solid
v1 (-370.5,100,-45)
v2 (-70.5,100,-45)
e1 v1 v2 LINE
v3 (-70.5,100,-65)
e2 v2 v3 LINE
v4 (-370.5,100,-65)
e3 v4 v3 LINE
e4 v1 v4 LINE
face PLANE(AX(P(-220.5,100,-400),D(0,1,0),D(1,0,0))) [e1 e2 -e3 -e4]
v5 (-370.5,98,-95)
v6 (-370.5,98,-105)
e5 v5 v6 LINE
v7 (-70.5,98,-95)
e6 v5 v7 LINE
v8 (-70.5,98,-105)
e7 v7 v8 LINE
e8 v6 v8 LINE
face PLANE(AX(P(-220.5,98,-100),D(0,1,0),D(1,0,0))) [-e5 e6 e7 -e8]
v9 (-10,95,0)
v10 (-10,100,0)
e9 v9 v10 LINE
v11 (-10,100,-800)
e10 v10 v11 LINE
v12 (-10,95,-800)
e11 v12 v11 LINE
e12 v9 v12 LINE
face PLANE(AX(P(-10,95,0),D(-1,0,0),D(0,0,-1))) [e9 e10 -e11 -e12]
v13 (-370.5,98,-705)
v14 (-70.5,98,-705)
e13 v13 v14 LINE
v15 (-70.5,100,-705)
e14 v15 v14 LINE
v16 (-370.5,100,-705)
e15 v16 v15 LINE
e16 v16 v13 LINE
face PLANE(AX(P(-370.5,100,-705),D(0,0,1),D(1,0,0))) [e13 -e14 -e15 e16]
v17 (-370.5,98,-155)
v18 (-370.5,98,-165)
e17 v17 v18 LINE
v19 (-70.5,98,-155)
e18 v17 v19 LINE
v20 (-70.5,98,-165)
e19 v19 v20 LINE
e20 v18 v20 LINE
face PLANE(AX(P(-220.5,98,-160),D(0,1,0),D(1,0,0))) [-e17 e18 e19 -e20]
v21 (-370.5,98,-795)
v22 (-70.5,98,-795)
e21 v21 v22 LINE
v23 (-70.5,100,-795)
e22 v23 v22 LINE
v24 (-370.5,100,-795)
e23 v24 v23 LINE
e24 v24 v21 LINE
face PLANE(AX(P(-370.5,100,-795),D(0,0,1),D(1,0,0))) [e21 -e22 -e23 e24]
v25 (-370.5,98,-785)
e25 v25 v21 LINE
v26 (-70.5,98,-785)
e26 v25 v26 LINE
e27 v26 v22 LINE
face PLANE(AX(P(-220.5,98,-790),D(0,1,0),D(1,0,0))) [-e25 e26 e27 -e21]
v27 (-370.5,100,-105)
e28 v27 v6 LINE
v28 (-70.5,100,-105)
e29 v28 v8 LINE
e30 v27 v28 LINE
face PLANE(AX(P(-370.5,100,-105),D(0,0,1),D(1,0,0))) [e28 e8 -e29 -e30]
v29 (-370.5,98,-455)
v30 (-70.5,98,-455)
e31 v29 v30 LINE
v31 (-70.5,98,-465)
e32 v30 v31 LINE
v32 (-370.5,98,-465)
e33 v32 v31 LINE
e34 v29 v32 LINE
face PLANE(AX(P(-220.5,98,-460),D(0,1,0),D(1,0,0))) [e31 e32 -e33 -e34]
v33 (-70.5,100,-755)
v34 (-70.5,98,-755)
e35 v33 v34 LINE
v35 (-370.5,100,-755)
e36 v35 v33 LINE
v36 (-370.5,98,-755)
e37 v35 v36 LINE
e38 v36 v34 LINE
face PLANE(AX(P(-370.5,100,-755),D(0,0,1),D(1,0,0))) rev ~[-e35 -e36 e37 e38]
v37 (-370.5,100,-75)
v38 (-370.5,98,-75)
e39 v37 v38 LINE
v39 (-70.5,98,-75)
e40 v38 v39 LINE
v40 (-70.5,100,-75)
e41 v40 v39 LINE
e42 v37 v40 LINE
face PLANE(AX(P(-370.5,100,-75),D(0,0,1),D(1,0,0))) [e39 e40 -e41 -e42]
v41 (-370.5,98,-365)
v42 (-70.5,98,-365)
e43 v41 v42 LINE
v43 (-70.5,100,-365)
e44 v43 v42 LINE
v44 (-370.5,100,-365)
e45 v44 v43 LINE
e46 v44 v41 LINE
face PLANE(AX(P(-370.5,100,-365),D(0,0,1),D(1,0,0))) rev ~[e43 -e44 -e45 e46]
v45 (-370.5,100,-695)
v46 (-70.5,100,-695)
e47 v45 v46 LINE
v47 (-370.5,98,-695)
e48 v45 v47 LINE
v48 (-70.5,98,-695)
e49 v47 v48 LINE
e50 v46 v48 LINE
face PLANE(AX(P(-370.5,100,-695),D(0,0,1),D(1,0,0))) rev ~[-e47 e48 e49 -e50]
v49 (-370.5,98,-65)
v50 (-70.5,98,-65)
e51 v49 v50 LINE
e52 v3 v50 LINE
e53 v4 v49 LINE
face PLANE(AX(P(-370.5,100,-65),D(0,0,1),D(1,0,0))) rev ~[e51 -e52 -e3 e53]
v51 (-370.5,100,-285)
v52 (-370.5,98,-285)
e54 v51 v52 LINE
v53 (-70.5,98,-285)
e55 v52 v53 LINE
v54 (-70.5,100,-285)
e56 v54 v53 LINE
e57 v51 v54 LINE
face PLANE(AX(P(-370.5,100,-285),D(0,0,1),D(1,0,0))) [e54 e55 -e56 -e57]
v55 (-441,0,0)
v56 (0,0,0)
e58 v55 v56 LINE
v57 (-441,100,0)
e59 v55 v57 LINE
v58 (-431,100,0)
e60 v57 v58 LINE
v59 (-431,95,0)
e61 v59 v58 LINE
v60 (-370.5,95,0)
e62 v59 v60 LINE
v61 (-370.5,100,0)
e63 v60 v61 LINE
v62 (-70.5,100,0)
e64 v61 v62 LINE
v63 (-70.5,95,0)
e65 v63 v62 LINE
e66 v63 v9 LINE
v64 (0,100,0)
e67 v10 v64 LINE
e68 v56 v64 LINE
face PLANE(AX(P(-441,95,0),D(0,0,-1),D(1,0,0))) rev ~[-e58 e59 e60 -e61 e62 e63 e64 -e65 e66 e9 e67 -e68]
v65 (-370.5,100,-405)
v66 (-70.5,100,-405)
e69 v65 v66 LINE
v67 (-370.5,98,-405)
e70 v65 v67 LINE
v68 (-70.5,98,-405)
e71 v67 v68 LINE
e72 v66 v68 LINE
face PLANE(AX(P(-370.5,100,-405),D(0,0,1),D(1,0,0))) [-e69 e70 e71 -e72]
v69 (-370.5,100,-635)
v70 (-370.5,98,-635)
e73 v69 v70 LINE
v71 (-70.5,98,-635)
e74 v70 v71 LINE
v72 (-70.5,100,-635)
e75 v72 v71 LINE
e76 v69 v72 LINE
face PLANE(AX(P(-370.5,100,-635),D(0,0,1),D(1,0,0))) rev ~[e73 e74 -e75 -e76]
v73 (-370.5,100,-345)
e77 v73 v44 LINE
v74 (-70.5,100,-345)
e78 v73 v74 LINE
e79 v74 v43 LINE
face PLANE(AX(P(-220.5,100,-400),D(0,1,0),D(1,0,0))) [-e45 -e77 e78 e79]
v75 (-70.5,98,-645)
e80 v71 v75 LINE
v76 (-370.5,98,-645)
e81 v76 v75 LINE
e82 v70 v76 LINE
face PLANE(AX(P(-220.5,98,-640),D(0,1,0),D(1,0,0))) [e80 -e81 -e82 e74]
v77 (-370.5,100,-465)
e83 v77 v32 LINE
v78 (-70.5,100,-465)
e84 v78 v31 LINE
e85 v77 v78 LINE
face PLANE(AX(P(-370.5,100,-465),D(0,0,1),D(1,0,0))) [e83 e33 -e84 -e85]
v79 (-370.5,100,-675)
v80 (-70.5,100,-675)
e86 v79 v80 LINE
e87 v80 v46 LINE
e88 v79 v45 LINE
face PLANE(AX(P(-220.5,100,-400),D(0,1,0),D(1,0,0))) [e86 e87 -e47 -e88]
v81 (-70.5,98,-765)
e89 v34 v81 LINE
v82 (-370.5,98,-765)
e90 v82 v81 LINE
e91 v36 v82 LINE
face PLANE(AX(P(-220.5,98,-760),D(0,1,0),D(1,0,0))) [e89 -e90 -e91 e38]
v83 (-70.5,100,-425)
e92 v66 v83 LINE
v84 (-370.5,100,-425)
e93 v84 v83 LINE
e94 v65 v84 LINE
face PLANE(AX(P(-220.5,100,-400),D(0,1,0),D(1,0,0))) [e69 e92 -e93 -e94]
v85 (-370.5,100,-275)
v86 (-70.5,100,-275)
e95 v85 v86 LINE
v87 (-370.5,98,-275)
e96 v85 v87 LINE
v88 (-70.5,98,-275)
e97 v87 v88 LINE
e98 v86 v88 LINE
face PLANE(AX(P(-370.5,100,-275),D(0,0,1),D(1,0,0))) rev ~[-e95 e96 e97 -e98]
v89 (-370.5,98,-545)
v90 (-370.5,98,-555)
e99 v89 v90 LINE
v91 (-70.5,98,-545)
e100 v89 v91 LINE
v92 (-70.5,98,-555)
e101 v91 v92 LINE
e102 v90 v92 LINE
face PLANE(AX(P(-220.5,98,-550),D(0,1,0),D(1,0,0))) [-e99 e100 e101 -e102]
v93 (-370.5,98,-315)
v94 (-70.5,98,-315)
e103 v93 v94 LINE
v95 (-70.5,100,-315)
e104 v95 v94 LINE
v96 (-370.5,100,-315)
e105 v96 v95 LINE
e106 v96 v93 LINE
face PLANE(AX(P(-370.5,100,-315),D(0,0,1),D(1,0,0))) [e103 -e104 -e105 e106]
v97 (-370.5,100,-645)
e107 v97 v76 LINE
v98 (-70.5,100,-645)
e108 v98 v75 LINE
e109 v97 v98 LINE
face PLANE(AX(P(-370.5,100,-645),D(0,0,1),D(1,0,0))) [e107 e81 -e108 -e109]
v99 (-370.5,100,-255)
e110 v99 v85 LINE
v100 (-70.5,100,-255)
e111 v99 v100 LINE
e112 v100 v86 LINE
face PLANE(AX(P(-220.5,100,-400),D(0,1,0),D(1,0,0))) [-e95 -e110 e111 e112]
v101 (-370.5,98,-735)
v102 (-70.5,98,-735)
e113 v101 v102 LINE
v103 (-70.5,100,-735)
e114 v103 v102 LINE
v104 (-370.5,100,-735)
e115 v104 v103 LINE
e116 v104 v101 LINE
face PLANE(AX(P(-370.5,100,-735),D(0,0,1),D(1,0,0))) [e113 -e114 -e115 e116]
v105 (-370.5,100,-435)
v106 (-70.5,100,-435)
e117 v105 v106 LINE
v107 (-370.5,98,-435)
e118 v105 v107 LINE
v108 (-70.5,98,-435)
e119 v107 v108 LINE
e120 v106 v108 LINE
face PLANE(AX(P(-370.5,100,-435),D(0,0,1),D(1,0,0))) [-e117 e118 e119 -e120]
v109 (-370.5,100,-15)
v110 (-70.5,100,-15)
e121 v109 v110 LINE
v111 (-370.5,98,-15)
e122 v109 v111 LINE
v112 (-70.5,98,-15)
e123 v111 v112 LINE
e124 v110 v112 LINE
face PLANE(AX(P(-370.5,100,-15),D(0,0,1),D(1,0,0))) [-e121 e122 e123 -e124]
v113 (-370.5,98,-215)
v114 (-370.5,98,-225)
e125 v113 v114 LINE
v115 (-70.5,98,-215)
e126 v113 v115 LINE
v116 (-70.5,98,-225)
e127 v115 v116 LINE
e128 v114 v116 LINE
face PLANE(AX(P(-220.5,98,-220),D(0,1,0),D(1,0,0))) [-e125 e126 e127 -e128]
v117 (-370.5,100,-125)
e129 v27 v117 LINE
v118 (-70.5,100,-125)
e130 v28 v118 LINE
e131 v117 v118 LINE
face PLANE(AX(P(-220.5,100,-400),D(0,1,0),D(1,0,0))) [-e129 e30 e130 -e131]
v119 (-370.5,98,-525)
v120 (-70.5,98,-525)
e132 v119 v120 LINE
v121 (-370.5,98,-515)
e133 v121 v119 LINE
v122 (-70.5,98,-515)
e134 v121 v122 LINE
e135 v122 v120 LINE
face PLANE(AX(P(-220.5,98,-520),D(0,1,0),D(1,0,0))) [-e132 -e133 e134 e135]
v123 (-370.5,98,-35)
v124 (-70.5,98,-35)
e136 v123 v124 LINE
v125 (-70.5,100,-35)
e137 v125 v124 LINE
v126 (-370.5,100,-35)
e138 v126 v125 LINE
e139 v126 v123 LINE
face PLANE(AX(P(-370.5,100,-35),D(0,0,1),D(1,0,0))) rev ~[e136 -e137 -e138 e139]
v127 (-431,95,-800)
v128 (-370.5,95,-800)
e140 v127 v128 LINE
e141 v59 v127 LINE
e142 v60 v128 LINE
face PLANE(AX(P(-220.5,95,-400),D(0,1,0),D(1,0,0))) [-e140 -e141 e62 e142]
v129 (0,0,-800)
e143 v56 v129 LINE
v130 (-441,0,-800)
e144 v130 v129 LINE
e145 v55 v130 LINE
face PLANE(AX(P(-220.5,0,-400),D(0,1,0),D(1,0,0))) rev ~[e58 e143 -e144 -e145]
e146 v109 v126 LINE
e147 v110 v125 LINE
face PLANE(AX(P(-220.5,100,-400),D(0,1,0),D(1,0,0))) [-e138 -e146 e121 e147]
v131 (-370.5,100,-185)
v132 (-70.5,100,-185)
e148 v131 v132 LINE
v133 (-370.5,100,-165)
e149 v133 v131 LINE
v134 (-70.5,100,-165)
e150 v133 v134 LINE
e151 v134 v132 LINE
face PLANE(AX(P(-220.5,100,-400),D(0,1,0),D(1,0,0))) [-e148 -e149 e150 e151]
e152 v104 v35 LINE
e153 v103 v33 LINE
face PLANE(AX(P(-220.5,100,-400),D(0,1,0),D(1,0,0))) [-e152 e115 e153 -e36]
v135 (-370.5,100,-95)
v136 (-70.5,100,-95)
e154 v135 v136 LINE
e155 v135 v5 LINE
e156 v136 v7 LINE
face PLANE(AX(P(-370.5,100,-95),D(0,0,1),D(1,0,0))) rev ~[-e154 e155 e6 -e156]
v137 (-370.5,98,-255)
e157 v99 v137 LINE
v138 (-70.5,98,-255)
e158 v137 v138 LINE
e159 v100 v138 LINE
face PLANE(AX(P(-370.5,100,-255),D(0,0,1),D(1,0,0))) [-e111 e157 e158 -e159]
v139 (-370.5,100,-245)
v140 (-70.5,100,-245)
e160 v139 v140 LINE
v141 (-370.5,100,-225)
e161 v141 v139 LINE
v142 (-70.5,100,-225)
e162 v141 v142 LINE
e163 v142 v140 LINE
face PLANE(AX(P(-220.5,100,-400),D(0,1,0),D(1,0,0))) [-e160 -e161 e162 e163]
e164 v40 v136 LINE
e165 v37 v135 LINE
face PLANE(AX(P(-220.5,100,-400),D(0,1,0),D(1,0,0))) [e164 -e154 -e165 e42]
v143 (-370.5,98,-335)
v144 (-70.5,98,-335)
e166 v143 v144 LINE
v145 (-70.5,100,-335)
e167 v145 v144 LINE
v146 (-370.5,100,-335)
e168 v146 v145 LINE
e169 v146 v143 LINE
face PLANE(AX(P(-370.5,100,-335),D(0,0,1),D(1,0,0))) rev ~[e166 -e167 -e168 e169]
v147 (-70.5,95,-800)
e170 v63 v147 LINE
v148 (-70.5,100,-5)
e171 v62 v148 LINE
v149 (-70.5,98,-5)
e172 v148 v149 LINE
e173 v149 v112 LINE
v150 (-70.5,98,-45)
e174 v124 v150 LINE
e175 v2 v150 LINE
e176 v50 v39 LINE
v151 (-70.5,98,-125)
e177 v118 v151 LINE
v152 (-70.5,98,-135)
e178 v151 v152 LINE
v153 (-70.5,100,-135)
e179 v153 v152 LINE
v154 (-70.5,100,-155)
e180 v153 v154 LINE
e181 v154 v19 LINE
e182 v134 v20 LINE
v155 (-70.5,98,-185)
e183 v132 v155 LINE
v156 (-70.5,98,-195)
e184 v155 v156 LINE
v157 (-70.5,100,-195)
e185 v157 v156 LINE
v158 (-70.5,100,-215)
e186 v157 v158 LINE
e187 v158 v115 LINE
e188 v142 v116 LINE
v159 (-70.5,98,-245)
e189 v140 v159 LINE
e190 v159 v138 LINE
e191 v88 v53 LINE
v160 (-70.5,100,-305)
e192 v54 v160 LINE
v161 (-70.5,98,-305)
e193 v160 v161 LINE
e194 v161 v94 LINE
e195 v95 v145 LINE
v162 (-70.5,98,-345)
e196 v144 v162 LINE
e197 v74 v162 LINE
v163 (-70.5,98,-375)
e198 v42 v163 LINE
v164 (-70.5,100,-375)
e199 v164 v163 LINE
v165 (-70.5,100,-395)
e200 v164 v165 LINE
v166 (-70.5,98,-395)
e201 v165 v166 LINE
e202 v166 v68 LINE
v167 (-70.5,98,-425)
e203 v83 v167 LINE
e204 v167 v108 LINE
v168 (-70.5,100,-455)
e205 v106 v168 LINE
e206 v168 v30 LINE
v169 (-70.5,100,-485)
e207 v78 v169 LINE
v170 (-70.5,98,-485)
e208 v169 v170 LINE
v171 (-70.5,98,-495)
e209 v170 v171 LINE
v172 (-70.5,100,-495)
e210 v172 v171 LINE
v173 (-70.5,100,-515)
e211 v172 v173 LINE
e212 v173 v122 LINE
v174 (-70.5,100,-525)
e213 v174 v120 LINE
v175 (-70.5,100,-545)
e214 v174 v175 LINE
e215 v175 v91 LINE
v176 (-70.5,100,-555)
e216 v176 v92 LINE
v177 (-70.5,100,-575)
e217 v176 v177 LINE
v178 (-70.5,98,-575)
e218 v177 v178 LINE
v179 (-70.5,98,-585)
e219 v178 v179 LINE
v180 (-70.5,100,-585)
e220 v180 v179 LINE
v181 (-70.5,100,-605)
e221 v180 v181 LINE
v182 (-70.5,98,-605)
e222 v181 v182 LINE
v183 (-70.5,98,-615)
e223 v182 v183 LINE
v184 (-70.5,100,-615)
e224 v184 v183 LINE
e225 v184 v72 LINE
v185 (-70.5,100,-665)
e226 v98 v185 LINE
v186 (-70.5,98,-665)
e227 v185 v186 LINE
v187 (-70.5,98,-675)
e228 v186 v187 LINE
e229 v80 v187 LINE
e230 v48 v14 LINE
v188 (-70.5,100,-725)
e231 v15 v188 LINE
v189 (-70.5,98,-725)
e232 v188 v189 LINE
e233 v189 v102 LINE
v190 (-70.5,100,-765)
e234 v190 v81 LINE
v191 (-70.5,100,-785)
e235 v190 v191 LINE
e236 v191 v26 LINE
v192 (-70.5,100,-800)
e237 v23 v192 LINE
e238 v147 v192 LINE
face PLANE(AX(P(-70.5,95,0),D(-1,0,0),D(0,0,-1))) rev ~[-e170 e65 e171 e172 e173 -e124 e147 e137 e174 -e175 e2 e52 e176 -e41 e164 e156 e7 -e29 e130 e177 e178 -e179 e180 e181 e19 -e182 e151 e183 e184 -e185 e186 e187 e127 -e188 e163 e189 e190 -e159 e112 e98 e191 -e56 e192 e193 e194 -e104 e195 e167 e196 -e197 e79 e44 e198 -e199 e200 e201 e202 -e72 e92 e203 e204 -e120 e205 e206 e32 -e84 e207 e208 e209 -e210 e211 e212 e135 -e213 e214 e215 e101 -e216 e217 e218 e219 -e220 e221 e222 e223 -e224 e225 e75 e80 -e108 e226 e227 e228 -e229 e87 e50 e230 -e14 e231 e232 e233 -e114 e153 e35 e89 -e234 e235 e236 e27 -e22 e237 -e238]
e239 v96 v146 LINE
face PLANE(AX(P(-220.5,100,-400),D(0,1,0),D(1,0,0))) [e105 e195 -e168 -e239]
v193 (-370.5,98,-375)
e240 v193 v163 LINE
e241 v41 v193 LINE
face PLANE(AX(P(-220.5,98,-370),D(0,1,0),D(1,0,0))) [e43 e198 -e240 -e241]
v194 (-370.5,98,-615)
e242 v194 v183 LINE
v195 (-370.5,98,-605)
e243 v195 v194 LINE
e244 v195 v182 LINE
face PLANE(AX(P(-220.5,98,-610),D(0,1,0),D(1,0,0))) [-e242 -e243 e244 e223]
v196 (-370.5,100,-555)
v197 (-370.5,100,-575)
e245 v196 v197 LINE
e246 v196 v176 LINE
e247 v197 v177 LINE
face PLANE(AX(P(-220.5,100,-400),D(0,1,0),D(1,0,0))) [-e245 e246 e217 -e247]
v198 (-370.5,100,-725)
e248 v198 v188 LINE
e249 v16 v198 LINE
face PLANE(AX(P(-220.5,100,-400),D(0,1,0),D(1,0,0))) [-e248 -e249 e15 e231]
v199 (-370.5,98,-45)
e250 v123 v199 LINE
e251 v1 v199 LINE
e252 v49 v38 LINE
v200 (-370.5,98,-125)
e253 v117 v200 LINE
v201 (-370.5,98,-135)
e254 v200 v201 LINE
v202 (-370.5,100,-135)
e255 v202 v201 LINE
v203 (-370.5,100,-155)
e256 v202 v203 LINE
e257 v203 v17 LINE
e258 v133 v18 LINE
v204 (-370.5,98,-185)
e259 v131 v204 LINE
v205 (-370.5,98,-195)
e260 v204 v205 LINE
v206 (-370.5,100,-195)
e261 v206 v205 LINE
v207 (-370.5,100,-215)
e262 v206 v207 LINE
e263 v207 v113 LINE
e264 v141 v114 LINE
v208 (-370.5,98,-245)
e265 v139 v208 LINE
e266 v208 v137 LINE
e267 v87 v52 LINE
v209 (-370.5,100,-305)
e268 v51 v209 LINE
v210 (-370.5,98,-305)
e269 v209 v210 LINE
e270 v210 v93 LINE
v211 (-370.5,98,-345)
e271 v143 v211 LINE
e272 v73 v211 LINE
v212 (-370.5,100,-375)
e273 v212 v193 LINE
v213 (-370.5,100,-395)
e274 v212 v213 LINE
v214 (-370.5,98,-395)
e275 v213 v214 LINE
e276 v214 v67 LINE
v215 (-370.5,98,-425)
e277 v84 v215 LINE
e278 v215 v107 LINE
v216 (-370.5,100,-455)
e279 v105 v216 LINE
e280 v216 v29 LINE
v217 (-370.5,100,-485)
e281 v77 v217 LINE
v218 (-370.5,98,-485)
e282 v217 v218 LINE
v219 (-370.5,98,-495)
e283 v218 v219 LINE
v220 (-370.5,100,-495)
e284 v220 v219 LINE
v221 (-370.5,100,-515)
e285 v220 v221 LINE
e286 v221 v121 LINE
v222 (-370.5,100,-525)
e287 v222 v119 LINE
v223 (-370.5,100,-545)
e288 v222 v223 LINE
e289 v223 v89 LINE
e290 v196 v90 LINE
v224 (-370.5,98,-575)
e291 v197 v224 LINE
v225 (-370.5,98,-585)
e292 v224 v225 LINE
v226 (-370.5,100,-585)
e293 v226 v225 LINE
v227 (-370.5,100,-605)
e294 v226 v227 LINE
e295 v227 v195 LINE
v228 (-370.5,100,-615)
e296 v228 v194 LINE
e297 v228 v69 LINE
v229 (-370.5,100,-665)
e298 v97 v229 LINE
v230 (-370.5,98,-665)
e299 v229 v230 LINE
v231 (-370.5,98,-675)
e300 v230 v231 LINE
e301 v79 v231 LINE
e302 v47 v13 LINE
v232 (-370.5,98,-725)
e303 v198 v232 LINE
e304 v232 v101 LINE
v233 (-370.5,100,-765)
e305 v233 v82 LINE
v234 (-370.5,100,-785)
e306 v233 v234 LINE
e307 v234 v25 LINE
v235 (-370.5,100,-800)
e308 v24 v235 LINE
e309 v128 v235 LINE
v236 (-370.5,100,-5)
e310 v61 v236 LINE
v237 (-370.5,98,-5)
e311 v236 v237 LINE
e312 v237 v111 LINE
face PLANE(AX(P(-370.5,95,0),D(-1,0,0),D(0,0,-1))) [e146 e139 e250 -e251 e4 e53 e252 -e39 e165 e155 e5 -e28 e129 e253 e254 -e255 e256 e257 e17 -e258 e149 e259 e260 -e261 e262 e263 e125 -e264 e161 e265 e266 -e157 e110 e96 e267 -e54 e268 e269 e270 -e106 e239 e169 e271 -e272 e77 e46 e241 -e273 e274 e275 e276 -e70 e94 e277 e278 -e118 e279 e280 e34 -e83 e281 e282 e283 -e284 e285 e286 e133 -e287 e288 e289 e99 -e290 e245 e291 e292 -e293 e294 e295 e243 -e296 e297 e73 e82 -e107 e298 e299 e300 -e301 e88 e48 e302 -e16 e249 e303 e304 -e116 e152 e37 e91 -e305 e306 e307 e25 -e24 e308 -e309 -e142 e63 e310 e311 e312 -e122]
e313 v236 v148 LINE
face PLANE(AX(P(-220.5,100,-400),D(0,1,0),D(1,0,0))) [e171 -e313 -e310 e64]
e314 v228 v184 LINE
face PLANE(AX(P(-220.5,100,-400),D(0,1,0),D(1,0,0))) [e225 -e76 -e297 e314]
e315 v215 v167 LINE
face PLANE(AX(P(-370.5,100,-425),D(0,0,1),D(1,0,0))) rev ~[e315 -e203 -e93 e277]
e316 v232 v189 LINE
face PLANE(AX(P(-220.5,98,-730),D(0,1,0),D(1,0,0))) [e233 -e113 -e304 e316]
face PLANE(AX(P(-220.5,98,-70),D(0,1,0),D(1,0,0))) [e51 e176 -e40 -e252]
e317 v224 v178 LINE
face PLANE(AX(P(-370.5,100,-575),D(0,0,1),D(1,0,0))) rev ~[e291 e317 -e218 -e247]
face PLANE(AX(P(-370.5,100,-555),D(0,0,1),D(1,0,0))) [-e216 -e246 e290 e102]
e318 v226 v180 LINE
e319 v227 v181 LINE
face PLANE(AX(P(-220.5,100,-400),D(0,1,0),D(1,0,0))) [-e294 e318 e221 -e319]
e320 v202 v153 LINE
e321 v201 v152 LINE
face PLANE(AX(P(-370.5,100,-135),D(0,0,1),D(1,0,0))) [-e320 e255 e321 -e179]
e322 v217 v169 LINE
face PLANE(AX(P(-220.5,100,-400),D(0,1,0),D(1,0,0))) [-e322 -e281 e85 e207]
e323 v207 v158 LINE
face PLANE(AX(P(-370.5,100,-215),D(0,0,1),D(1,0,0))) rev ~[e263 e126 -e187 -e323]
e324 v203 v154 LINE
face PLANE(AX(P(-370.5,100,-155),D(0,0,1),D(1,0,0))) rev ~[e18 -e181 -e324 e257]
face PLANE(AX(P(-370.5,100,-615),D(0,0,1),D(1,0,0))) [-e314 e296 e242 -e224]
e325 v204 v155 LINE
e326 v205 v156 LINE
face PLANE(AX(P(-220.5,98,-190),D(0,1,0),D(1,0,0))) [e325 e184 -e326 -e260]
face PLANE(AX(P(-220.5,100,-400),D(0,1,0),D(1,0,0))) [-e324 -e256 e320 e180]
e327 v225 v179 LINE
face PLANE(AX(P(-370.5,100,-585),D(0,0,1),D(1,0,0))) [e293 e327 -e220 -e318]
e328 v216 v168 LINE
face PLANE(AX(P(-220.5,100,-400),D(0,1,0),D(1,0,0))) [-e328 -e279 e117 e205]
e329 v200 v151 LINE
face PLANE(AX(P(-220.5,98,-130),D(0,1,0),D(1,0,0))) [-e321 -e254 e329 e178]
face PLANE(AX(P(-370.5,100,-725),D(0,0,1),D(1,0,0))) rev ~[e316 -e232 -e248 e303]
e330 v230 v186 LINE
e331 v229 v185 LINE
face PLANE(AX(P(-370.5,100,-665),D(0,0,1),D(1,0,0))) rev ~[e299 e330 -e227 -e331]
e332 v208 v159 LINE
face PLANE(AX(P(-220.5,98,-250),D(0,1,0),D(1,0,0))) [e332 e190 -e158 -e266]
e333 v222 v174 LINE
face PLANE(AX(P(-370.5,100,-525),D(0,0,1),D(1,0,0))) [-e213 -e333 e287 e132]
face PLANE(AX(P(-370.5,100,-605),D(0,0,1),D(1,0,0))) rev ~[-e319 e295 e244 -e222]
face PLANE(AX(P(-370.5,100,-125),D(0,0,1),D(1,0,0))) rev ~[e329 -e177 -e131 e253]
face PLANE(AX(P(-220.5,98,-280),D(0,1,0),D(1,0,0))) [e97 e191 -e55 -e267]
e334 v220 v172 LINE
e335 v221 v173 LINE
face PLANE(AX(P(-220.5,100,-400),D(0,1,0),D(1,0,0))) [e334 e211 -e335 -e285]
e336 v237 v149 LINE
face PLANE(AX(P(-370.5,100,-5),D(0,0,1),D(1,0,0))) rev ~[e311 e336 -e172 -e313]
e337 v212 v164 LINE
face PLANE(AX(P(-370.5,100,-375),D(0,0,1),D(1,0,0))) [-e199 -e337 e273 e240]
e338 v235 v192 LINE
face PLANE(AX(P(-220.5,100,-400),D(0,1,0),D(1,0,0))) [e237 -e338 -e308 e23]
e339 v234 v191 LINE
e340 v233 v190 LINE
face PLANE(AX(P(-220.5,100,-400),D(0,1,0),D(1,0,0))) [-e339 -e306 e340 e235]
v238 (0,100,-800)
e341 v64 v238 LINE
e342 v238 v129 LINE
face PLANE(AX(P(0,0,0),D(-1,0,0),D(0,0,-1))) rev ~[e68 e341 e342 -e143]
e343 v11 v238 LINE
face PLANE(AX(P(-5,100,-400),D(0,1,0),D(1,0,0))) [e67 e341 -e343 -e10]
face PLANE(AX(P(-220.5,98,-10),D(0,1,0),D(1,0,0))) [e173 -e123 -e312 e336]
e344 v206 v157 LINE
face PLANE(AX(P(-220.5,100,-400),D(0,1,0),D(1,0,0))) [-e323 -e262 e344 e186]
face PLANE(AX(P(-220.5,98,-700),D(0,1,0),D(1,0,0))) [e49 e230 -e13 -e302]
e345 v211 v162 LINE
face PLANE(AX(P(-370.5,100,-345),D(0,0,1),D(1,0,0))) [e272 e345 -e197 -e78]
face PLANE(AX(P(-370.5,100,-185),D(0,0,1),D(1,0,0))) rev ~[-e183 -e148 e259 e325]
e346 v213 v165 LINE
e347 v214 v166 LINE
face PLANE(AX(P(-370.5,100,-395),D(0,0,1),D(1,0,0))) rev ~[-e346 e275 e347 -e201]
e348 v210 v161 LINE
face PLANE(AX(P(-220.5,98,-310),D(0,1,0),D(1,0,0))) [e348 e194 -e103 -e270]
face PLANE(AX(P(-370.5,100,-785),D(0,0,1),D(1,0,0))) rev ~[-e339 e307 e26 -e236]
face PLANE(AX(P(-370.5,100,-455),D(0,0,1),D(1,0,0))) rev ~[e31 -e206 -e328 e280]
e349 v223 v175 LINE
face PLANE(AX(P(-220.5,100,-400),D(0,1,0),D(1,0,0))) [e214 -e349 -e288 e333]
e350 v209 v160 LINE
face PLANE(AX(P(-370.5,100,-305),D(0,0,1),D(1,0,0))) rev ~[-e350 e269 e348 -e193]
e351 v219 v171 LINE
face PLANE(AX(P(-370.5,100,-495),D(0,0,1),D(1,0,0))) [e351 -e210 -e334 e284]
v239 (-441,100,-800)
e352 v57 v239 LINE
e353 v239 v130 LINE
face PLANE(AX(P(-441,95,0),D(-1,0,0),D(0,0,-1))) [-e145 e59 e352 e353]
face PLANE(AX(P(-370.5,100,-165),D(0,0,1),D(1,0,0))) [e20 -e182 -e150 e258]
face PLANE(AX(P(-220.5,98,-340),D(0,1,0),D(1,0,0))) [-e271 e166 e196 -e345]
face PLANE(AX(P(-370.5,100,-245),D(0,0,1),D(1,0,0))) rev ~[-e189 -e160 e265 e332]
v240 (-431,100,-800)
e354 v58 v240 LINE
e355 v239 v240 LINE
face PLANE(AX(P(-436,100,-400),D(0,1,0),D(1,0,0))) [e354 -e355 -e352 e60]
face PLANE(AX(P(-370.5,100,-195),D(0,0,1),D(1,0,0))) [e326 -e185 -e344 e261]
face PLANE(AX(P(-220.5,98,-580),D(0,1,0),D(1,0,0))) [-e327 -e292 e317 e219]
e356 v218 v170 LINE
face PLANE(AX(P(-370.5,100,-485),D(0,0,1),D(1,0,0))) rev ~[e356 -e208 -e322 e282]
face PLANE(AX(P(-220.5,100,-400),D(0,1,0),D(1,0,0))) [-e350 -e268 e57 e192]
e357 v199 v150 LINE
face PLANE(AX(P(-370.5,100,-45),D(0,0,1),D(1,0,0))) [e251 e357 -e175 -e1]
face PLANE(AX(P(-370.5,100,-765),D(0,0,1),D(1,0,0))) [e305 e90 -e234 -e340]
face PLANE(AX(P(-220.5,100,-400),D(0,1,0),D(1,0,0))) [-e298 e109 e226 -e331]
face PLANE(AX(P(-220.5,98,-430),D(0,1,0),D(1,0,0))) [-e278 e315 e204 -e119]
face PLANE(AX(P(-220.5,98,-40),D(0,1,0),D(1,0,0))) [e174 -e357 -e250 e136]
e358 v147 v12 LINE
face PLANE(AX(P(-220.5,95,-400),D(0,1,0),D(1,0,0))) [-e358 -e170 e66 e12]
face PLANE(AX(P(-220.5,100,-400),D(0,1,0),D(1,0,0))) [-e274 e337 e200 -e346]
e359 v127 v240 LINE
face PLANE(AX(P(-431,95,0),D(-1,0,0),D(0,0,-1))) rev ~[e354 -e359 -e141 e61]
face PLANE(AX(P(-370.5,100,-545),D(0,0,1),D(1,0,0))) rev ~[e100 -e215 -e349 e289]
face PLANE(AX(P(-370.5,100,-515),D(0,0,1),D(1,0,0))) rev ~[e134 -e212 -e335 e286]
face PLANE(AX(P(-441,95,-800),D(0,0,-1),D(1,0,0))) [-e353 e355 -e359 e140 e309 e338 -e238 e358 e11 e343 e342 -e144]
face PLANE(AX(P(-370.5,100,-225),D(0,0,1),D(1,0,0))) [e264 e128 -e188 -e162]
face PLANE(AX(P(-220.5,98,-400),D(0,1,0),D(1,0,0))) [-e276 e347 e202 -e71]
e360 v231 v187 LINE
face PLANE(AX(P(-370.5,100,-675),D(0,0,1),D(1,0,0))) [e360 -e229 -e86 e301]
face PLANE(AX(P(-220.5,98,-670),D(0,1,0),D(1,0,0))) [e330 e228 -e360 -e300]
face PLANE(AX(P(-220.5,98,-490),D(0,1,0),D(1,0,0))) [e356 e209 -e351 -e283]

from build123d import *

# Parameters (mm, degrees)
SKETCH_1_W          = 441
SKETCH_1_H          = 800
EXTRUDE_1_DEPTH     = 95
SKETCH_3_W          = 10
SKETCH_3_H          = 800
SKETCH_3_W_2        = 300
EXTRUDE_2_DEPTH     = 5
SKETCH_4_W          = 300
SKETCH_4_H          = 10
CUT_EXTRUDE_1_DEPTH = 2


with BuildPart() as part:
    # 草图1 → 凸台-拉伸1 (new body)
    with BuildSketch(Plane(origin=(0, 0, 0), x_dir=(1, 0, 0), z_dir=(0, 1, 0))):
        with Locations((-220.5, 400)):
            Rectangle(SKETCH_1_W, SKETCH_1_H)
    extrude(amount=EXTRUDE_1_DEPTH)

    # 草图3 → 凸台-拉伸2 (add)
    with BuildSketch(Plane(origin=(0, 95, 0), x_dir=(1, 0, 0), z_dir=(0, 1, 0))):
        with Locations((-436, 400)):
            Rectangle(SKETCH_3_W, SKETCH_3_H)
        with Locations((-220.5, 400)):
            Rectangle(SKETCH_3_W_2, SKETCH_3_H)
        with Locations((-5, 400)):
            Rectangle(SKETCH_3_W, SKETCH_3_H)
    extrude(amount=EXTRUDE_2_DEPTH)

    # 草图4 → 切除-拉伸1 (cut)
    with BuildSketch(Plane(origin=(0, 100, 0), x_dir=(1, 0, 0), z_dir=(0, 1, 0))):
        with Locations((-220.5, 790)):
            Rectangle(SKETCH_4_W, SKETCH_4_H)
        with Locations((-220.5, 760)):
            Rectangle(SKETCH_4_W, SKETCH_4_H)
        with Locations((-220.5, 730)):
            Rectangle(SKETCH_4_W, SKETCH_4_H)
        with Locations((-220.5, 700)):
            Rectangle(SKETCH_4_W, SKETCH_4_H)
        with Locations((-220.5, 670)):
            Rectangle(SKETCH_4_W, SKETCH_4_H)
        with Locations((-220.5, 640)):
            Rectangle(SKETCH_4_W, SKETCH_4_H)
        with Locations((-220.5, 610)):
            Rectangle(SKETCH_4_W, SKETCH_4_H)
        with Locations((-220.5, 580)):
            Rectangle(SKETCH_4_W, SKETCH_4_H)
        with Locations((-220.5, 550)):
            Rectangle(SKETCH_4_W, SKETCH_4_H)
        with Locations((-220.5, 520)):
            Rectangle(SKETCH_4_W, SKETCH_4_H)
        with Locations((-220.5, 490)):
            Rectangle(SKETCH_4_W, SKETCH_4_H)
        with Locations((-220.5, 460)):
            Rectangle(SKETCH_4_W, SKETCH_4_H)
        with Locations((-220.5, 430)):
            Rectangle(SKETCH_4_W, SKETCH_4_H)
        with Locations((-220.5, 400)):
            Rectangle(SKETCH_4_W, SKETCH_4_H)
        with Locations((-220.5, 370)):
            Rectangle(SKETCH_4_W, SKETCH_4_H)
        with Locations((-220.5, 340)):
            Rectangle(SKETCH_4_W, SKETCH_4_H)
        with Locations((-220.5, 310)):
            Rectangle(SKETCH_4_W, SKETCH_4_H)
        with Locations((-220.5, 280)):
            Rectangle(SKETCH_4_W, SKETCH_4_H)
        with Locations((-220.5, 250)):
            Rectangle(SKETCH_4_W, SKETCH_4_H)
        with Locations((-220.5, 220)):
            Rectangle(SKETCH_4_W, SKETCH_4_H)
        with Locations((-220.5, 190)):
            Rectangle(SKETCH_4_W, SKETCH_4_H)
        with Locations((-220.5, 160)):
            Rectangle(SKETCH_4_W, SKETCH_4_H)
        with Locations((-220.5, 130)):
            Rectangle(SKETCH_4_W, SKETCH_4_H)
        with Locations((-220.5, 100)):
            Rectangle(SKETCH_4_W, SKETCH_4_H)
        with Locations((-220.5, 70)):
            Rectangle(SKETCH_4_W, SKETCH_4_H)
        with Locations((-220.5, 40)):
            Rectangle(SKETCH_4_W, SKETCH_4_H)
        with Locations((-220.5, 10)):
            Rectangle(SKETCH_4_W, SKETCH_4_H)
    extrude(amount=-CUT_EXTRUDE_1_DEPTH, mode=Mode.SUBTRACT)


solid = part.part
